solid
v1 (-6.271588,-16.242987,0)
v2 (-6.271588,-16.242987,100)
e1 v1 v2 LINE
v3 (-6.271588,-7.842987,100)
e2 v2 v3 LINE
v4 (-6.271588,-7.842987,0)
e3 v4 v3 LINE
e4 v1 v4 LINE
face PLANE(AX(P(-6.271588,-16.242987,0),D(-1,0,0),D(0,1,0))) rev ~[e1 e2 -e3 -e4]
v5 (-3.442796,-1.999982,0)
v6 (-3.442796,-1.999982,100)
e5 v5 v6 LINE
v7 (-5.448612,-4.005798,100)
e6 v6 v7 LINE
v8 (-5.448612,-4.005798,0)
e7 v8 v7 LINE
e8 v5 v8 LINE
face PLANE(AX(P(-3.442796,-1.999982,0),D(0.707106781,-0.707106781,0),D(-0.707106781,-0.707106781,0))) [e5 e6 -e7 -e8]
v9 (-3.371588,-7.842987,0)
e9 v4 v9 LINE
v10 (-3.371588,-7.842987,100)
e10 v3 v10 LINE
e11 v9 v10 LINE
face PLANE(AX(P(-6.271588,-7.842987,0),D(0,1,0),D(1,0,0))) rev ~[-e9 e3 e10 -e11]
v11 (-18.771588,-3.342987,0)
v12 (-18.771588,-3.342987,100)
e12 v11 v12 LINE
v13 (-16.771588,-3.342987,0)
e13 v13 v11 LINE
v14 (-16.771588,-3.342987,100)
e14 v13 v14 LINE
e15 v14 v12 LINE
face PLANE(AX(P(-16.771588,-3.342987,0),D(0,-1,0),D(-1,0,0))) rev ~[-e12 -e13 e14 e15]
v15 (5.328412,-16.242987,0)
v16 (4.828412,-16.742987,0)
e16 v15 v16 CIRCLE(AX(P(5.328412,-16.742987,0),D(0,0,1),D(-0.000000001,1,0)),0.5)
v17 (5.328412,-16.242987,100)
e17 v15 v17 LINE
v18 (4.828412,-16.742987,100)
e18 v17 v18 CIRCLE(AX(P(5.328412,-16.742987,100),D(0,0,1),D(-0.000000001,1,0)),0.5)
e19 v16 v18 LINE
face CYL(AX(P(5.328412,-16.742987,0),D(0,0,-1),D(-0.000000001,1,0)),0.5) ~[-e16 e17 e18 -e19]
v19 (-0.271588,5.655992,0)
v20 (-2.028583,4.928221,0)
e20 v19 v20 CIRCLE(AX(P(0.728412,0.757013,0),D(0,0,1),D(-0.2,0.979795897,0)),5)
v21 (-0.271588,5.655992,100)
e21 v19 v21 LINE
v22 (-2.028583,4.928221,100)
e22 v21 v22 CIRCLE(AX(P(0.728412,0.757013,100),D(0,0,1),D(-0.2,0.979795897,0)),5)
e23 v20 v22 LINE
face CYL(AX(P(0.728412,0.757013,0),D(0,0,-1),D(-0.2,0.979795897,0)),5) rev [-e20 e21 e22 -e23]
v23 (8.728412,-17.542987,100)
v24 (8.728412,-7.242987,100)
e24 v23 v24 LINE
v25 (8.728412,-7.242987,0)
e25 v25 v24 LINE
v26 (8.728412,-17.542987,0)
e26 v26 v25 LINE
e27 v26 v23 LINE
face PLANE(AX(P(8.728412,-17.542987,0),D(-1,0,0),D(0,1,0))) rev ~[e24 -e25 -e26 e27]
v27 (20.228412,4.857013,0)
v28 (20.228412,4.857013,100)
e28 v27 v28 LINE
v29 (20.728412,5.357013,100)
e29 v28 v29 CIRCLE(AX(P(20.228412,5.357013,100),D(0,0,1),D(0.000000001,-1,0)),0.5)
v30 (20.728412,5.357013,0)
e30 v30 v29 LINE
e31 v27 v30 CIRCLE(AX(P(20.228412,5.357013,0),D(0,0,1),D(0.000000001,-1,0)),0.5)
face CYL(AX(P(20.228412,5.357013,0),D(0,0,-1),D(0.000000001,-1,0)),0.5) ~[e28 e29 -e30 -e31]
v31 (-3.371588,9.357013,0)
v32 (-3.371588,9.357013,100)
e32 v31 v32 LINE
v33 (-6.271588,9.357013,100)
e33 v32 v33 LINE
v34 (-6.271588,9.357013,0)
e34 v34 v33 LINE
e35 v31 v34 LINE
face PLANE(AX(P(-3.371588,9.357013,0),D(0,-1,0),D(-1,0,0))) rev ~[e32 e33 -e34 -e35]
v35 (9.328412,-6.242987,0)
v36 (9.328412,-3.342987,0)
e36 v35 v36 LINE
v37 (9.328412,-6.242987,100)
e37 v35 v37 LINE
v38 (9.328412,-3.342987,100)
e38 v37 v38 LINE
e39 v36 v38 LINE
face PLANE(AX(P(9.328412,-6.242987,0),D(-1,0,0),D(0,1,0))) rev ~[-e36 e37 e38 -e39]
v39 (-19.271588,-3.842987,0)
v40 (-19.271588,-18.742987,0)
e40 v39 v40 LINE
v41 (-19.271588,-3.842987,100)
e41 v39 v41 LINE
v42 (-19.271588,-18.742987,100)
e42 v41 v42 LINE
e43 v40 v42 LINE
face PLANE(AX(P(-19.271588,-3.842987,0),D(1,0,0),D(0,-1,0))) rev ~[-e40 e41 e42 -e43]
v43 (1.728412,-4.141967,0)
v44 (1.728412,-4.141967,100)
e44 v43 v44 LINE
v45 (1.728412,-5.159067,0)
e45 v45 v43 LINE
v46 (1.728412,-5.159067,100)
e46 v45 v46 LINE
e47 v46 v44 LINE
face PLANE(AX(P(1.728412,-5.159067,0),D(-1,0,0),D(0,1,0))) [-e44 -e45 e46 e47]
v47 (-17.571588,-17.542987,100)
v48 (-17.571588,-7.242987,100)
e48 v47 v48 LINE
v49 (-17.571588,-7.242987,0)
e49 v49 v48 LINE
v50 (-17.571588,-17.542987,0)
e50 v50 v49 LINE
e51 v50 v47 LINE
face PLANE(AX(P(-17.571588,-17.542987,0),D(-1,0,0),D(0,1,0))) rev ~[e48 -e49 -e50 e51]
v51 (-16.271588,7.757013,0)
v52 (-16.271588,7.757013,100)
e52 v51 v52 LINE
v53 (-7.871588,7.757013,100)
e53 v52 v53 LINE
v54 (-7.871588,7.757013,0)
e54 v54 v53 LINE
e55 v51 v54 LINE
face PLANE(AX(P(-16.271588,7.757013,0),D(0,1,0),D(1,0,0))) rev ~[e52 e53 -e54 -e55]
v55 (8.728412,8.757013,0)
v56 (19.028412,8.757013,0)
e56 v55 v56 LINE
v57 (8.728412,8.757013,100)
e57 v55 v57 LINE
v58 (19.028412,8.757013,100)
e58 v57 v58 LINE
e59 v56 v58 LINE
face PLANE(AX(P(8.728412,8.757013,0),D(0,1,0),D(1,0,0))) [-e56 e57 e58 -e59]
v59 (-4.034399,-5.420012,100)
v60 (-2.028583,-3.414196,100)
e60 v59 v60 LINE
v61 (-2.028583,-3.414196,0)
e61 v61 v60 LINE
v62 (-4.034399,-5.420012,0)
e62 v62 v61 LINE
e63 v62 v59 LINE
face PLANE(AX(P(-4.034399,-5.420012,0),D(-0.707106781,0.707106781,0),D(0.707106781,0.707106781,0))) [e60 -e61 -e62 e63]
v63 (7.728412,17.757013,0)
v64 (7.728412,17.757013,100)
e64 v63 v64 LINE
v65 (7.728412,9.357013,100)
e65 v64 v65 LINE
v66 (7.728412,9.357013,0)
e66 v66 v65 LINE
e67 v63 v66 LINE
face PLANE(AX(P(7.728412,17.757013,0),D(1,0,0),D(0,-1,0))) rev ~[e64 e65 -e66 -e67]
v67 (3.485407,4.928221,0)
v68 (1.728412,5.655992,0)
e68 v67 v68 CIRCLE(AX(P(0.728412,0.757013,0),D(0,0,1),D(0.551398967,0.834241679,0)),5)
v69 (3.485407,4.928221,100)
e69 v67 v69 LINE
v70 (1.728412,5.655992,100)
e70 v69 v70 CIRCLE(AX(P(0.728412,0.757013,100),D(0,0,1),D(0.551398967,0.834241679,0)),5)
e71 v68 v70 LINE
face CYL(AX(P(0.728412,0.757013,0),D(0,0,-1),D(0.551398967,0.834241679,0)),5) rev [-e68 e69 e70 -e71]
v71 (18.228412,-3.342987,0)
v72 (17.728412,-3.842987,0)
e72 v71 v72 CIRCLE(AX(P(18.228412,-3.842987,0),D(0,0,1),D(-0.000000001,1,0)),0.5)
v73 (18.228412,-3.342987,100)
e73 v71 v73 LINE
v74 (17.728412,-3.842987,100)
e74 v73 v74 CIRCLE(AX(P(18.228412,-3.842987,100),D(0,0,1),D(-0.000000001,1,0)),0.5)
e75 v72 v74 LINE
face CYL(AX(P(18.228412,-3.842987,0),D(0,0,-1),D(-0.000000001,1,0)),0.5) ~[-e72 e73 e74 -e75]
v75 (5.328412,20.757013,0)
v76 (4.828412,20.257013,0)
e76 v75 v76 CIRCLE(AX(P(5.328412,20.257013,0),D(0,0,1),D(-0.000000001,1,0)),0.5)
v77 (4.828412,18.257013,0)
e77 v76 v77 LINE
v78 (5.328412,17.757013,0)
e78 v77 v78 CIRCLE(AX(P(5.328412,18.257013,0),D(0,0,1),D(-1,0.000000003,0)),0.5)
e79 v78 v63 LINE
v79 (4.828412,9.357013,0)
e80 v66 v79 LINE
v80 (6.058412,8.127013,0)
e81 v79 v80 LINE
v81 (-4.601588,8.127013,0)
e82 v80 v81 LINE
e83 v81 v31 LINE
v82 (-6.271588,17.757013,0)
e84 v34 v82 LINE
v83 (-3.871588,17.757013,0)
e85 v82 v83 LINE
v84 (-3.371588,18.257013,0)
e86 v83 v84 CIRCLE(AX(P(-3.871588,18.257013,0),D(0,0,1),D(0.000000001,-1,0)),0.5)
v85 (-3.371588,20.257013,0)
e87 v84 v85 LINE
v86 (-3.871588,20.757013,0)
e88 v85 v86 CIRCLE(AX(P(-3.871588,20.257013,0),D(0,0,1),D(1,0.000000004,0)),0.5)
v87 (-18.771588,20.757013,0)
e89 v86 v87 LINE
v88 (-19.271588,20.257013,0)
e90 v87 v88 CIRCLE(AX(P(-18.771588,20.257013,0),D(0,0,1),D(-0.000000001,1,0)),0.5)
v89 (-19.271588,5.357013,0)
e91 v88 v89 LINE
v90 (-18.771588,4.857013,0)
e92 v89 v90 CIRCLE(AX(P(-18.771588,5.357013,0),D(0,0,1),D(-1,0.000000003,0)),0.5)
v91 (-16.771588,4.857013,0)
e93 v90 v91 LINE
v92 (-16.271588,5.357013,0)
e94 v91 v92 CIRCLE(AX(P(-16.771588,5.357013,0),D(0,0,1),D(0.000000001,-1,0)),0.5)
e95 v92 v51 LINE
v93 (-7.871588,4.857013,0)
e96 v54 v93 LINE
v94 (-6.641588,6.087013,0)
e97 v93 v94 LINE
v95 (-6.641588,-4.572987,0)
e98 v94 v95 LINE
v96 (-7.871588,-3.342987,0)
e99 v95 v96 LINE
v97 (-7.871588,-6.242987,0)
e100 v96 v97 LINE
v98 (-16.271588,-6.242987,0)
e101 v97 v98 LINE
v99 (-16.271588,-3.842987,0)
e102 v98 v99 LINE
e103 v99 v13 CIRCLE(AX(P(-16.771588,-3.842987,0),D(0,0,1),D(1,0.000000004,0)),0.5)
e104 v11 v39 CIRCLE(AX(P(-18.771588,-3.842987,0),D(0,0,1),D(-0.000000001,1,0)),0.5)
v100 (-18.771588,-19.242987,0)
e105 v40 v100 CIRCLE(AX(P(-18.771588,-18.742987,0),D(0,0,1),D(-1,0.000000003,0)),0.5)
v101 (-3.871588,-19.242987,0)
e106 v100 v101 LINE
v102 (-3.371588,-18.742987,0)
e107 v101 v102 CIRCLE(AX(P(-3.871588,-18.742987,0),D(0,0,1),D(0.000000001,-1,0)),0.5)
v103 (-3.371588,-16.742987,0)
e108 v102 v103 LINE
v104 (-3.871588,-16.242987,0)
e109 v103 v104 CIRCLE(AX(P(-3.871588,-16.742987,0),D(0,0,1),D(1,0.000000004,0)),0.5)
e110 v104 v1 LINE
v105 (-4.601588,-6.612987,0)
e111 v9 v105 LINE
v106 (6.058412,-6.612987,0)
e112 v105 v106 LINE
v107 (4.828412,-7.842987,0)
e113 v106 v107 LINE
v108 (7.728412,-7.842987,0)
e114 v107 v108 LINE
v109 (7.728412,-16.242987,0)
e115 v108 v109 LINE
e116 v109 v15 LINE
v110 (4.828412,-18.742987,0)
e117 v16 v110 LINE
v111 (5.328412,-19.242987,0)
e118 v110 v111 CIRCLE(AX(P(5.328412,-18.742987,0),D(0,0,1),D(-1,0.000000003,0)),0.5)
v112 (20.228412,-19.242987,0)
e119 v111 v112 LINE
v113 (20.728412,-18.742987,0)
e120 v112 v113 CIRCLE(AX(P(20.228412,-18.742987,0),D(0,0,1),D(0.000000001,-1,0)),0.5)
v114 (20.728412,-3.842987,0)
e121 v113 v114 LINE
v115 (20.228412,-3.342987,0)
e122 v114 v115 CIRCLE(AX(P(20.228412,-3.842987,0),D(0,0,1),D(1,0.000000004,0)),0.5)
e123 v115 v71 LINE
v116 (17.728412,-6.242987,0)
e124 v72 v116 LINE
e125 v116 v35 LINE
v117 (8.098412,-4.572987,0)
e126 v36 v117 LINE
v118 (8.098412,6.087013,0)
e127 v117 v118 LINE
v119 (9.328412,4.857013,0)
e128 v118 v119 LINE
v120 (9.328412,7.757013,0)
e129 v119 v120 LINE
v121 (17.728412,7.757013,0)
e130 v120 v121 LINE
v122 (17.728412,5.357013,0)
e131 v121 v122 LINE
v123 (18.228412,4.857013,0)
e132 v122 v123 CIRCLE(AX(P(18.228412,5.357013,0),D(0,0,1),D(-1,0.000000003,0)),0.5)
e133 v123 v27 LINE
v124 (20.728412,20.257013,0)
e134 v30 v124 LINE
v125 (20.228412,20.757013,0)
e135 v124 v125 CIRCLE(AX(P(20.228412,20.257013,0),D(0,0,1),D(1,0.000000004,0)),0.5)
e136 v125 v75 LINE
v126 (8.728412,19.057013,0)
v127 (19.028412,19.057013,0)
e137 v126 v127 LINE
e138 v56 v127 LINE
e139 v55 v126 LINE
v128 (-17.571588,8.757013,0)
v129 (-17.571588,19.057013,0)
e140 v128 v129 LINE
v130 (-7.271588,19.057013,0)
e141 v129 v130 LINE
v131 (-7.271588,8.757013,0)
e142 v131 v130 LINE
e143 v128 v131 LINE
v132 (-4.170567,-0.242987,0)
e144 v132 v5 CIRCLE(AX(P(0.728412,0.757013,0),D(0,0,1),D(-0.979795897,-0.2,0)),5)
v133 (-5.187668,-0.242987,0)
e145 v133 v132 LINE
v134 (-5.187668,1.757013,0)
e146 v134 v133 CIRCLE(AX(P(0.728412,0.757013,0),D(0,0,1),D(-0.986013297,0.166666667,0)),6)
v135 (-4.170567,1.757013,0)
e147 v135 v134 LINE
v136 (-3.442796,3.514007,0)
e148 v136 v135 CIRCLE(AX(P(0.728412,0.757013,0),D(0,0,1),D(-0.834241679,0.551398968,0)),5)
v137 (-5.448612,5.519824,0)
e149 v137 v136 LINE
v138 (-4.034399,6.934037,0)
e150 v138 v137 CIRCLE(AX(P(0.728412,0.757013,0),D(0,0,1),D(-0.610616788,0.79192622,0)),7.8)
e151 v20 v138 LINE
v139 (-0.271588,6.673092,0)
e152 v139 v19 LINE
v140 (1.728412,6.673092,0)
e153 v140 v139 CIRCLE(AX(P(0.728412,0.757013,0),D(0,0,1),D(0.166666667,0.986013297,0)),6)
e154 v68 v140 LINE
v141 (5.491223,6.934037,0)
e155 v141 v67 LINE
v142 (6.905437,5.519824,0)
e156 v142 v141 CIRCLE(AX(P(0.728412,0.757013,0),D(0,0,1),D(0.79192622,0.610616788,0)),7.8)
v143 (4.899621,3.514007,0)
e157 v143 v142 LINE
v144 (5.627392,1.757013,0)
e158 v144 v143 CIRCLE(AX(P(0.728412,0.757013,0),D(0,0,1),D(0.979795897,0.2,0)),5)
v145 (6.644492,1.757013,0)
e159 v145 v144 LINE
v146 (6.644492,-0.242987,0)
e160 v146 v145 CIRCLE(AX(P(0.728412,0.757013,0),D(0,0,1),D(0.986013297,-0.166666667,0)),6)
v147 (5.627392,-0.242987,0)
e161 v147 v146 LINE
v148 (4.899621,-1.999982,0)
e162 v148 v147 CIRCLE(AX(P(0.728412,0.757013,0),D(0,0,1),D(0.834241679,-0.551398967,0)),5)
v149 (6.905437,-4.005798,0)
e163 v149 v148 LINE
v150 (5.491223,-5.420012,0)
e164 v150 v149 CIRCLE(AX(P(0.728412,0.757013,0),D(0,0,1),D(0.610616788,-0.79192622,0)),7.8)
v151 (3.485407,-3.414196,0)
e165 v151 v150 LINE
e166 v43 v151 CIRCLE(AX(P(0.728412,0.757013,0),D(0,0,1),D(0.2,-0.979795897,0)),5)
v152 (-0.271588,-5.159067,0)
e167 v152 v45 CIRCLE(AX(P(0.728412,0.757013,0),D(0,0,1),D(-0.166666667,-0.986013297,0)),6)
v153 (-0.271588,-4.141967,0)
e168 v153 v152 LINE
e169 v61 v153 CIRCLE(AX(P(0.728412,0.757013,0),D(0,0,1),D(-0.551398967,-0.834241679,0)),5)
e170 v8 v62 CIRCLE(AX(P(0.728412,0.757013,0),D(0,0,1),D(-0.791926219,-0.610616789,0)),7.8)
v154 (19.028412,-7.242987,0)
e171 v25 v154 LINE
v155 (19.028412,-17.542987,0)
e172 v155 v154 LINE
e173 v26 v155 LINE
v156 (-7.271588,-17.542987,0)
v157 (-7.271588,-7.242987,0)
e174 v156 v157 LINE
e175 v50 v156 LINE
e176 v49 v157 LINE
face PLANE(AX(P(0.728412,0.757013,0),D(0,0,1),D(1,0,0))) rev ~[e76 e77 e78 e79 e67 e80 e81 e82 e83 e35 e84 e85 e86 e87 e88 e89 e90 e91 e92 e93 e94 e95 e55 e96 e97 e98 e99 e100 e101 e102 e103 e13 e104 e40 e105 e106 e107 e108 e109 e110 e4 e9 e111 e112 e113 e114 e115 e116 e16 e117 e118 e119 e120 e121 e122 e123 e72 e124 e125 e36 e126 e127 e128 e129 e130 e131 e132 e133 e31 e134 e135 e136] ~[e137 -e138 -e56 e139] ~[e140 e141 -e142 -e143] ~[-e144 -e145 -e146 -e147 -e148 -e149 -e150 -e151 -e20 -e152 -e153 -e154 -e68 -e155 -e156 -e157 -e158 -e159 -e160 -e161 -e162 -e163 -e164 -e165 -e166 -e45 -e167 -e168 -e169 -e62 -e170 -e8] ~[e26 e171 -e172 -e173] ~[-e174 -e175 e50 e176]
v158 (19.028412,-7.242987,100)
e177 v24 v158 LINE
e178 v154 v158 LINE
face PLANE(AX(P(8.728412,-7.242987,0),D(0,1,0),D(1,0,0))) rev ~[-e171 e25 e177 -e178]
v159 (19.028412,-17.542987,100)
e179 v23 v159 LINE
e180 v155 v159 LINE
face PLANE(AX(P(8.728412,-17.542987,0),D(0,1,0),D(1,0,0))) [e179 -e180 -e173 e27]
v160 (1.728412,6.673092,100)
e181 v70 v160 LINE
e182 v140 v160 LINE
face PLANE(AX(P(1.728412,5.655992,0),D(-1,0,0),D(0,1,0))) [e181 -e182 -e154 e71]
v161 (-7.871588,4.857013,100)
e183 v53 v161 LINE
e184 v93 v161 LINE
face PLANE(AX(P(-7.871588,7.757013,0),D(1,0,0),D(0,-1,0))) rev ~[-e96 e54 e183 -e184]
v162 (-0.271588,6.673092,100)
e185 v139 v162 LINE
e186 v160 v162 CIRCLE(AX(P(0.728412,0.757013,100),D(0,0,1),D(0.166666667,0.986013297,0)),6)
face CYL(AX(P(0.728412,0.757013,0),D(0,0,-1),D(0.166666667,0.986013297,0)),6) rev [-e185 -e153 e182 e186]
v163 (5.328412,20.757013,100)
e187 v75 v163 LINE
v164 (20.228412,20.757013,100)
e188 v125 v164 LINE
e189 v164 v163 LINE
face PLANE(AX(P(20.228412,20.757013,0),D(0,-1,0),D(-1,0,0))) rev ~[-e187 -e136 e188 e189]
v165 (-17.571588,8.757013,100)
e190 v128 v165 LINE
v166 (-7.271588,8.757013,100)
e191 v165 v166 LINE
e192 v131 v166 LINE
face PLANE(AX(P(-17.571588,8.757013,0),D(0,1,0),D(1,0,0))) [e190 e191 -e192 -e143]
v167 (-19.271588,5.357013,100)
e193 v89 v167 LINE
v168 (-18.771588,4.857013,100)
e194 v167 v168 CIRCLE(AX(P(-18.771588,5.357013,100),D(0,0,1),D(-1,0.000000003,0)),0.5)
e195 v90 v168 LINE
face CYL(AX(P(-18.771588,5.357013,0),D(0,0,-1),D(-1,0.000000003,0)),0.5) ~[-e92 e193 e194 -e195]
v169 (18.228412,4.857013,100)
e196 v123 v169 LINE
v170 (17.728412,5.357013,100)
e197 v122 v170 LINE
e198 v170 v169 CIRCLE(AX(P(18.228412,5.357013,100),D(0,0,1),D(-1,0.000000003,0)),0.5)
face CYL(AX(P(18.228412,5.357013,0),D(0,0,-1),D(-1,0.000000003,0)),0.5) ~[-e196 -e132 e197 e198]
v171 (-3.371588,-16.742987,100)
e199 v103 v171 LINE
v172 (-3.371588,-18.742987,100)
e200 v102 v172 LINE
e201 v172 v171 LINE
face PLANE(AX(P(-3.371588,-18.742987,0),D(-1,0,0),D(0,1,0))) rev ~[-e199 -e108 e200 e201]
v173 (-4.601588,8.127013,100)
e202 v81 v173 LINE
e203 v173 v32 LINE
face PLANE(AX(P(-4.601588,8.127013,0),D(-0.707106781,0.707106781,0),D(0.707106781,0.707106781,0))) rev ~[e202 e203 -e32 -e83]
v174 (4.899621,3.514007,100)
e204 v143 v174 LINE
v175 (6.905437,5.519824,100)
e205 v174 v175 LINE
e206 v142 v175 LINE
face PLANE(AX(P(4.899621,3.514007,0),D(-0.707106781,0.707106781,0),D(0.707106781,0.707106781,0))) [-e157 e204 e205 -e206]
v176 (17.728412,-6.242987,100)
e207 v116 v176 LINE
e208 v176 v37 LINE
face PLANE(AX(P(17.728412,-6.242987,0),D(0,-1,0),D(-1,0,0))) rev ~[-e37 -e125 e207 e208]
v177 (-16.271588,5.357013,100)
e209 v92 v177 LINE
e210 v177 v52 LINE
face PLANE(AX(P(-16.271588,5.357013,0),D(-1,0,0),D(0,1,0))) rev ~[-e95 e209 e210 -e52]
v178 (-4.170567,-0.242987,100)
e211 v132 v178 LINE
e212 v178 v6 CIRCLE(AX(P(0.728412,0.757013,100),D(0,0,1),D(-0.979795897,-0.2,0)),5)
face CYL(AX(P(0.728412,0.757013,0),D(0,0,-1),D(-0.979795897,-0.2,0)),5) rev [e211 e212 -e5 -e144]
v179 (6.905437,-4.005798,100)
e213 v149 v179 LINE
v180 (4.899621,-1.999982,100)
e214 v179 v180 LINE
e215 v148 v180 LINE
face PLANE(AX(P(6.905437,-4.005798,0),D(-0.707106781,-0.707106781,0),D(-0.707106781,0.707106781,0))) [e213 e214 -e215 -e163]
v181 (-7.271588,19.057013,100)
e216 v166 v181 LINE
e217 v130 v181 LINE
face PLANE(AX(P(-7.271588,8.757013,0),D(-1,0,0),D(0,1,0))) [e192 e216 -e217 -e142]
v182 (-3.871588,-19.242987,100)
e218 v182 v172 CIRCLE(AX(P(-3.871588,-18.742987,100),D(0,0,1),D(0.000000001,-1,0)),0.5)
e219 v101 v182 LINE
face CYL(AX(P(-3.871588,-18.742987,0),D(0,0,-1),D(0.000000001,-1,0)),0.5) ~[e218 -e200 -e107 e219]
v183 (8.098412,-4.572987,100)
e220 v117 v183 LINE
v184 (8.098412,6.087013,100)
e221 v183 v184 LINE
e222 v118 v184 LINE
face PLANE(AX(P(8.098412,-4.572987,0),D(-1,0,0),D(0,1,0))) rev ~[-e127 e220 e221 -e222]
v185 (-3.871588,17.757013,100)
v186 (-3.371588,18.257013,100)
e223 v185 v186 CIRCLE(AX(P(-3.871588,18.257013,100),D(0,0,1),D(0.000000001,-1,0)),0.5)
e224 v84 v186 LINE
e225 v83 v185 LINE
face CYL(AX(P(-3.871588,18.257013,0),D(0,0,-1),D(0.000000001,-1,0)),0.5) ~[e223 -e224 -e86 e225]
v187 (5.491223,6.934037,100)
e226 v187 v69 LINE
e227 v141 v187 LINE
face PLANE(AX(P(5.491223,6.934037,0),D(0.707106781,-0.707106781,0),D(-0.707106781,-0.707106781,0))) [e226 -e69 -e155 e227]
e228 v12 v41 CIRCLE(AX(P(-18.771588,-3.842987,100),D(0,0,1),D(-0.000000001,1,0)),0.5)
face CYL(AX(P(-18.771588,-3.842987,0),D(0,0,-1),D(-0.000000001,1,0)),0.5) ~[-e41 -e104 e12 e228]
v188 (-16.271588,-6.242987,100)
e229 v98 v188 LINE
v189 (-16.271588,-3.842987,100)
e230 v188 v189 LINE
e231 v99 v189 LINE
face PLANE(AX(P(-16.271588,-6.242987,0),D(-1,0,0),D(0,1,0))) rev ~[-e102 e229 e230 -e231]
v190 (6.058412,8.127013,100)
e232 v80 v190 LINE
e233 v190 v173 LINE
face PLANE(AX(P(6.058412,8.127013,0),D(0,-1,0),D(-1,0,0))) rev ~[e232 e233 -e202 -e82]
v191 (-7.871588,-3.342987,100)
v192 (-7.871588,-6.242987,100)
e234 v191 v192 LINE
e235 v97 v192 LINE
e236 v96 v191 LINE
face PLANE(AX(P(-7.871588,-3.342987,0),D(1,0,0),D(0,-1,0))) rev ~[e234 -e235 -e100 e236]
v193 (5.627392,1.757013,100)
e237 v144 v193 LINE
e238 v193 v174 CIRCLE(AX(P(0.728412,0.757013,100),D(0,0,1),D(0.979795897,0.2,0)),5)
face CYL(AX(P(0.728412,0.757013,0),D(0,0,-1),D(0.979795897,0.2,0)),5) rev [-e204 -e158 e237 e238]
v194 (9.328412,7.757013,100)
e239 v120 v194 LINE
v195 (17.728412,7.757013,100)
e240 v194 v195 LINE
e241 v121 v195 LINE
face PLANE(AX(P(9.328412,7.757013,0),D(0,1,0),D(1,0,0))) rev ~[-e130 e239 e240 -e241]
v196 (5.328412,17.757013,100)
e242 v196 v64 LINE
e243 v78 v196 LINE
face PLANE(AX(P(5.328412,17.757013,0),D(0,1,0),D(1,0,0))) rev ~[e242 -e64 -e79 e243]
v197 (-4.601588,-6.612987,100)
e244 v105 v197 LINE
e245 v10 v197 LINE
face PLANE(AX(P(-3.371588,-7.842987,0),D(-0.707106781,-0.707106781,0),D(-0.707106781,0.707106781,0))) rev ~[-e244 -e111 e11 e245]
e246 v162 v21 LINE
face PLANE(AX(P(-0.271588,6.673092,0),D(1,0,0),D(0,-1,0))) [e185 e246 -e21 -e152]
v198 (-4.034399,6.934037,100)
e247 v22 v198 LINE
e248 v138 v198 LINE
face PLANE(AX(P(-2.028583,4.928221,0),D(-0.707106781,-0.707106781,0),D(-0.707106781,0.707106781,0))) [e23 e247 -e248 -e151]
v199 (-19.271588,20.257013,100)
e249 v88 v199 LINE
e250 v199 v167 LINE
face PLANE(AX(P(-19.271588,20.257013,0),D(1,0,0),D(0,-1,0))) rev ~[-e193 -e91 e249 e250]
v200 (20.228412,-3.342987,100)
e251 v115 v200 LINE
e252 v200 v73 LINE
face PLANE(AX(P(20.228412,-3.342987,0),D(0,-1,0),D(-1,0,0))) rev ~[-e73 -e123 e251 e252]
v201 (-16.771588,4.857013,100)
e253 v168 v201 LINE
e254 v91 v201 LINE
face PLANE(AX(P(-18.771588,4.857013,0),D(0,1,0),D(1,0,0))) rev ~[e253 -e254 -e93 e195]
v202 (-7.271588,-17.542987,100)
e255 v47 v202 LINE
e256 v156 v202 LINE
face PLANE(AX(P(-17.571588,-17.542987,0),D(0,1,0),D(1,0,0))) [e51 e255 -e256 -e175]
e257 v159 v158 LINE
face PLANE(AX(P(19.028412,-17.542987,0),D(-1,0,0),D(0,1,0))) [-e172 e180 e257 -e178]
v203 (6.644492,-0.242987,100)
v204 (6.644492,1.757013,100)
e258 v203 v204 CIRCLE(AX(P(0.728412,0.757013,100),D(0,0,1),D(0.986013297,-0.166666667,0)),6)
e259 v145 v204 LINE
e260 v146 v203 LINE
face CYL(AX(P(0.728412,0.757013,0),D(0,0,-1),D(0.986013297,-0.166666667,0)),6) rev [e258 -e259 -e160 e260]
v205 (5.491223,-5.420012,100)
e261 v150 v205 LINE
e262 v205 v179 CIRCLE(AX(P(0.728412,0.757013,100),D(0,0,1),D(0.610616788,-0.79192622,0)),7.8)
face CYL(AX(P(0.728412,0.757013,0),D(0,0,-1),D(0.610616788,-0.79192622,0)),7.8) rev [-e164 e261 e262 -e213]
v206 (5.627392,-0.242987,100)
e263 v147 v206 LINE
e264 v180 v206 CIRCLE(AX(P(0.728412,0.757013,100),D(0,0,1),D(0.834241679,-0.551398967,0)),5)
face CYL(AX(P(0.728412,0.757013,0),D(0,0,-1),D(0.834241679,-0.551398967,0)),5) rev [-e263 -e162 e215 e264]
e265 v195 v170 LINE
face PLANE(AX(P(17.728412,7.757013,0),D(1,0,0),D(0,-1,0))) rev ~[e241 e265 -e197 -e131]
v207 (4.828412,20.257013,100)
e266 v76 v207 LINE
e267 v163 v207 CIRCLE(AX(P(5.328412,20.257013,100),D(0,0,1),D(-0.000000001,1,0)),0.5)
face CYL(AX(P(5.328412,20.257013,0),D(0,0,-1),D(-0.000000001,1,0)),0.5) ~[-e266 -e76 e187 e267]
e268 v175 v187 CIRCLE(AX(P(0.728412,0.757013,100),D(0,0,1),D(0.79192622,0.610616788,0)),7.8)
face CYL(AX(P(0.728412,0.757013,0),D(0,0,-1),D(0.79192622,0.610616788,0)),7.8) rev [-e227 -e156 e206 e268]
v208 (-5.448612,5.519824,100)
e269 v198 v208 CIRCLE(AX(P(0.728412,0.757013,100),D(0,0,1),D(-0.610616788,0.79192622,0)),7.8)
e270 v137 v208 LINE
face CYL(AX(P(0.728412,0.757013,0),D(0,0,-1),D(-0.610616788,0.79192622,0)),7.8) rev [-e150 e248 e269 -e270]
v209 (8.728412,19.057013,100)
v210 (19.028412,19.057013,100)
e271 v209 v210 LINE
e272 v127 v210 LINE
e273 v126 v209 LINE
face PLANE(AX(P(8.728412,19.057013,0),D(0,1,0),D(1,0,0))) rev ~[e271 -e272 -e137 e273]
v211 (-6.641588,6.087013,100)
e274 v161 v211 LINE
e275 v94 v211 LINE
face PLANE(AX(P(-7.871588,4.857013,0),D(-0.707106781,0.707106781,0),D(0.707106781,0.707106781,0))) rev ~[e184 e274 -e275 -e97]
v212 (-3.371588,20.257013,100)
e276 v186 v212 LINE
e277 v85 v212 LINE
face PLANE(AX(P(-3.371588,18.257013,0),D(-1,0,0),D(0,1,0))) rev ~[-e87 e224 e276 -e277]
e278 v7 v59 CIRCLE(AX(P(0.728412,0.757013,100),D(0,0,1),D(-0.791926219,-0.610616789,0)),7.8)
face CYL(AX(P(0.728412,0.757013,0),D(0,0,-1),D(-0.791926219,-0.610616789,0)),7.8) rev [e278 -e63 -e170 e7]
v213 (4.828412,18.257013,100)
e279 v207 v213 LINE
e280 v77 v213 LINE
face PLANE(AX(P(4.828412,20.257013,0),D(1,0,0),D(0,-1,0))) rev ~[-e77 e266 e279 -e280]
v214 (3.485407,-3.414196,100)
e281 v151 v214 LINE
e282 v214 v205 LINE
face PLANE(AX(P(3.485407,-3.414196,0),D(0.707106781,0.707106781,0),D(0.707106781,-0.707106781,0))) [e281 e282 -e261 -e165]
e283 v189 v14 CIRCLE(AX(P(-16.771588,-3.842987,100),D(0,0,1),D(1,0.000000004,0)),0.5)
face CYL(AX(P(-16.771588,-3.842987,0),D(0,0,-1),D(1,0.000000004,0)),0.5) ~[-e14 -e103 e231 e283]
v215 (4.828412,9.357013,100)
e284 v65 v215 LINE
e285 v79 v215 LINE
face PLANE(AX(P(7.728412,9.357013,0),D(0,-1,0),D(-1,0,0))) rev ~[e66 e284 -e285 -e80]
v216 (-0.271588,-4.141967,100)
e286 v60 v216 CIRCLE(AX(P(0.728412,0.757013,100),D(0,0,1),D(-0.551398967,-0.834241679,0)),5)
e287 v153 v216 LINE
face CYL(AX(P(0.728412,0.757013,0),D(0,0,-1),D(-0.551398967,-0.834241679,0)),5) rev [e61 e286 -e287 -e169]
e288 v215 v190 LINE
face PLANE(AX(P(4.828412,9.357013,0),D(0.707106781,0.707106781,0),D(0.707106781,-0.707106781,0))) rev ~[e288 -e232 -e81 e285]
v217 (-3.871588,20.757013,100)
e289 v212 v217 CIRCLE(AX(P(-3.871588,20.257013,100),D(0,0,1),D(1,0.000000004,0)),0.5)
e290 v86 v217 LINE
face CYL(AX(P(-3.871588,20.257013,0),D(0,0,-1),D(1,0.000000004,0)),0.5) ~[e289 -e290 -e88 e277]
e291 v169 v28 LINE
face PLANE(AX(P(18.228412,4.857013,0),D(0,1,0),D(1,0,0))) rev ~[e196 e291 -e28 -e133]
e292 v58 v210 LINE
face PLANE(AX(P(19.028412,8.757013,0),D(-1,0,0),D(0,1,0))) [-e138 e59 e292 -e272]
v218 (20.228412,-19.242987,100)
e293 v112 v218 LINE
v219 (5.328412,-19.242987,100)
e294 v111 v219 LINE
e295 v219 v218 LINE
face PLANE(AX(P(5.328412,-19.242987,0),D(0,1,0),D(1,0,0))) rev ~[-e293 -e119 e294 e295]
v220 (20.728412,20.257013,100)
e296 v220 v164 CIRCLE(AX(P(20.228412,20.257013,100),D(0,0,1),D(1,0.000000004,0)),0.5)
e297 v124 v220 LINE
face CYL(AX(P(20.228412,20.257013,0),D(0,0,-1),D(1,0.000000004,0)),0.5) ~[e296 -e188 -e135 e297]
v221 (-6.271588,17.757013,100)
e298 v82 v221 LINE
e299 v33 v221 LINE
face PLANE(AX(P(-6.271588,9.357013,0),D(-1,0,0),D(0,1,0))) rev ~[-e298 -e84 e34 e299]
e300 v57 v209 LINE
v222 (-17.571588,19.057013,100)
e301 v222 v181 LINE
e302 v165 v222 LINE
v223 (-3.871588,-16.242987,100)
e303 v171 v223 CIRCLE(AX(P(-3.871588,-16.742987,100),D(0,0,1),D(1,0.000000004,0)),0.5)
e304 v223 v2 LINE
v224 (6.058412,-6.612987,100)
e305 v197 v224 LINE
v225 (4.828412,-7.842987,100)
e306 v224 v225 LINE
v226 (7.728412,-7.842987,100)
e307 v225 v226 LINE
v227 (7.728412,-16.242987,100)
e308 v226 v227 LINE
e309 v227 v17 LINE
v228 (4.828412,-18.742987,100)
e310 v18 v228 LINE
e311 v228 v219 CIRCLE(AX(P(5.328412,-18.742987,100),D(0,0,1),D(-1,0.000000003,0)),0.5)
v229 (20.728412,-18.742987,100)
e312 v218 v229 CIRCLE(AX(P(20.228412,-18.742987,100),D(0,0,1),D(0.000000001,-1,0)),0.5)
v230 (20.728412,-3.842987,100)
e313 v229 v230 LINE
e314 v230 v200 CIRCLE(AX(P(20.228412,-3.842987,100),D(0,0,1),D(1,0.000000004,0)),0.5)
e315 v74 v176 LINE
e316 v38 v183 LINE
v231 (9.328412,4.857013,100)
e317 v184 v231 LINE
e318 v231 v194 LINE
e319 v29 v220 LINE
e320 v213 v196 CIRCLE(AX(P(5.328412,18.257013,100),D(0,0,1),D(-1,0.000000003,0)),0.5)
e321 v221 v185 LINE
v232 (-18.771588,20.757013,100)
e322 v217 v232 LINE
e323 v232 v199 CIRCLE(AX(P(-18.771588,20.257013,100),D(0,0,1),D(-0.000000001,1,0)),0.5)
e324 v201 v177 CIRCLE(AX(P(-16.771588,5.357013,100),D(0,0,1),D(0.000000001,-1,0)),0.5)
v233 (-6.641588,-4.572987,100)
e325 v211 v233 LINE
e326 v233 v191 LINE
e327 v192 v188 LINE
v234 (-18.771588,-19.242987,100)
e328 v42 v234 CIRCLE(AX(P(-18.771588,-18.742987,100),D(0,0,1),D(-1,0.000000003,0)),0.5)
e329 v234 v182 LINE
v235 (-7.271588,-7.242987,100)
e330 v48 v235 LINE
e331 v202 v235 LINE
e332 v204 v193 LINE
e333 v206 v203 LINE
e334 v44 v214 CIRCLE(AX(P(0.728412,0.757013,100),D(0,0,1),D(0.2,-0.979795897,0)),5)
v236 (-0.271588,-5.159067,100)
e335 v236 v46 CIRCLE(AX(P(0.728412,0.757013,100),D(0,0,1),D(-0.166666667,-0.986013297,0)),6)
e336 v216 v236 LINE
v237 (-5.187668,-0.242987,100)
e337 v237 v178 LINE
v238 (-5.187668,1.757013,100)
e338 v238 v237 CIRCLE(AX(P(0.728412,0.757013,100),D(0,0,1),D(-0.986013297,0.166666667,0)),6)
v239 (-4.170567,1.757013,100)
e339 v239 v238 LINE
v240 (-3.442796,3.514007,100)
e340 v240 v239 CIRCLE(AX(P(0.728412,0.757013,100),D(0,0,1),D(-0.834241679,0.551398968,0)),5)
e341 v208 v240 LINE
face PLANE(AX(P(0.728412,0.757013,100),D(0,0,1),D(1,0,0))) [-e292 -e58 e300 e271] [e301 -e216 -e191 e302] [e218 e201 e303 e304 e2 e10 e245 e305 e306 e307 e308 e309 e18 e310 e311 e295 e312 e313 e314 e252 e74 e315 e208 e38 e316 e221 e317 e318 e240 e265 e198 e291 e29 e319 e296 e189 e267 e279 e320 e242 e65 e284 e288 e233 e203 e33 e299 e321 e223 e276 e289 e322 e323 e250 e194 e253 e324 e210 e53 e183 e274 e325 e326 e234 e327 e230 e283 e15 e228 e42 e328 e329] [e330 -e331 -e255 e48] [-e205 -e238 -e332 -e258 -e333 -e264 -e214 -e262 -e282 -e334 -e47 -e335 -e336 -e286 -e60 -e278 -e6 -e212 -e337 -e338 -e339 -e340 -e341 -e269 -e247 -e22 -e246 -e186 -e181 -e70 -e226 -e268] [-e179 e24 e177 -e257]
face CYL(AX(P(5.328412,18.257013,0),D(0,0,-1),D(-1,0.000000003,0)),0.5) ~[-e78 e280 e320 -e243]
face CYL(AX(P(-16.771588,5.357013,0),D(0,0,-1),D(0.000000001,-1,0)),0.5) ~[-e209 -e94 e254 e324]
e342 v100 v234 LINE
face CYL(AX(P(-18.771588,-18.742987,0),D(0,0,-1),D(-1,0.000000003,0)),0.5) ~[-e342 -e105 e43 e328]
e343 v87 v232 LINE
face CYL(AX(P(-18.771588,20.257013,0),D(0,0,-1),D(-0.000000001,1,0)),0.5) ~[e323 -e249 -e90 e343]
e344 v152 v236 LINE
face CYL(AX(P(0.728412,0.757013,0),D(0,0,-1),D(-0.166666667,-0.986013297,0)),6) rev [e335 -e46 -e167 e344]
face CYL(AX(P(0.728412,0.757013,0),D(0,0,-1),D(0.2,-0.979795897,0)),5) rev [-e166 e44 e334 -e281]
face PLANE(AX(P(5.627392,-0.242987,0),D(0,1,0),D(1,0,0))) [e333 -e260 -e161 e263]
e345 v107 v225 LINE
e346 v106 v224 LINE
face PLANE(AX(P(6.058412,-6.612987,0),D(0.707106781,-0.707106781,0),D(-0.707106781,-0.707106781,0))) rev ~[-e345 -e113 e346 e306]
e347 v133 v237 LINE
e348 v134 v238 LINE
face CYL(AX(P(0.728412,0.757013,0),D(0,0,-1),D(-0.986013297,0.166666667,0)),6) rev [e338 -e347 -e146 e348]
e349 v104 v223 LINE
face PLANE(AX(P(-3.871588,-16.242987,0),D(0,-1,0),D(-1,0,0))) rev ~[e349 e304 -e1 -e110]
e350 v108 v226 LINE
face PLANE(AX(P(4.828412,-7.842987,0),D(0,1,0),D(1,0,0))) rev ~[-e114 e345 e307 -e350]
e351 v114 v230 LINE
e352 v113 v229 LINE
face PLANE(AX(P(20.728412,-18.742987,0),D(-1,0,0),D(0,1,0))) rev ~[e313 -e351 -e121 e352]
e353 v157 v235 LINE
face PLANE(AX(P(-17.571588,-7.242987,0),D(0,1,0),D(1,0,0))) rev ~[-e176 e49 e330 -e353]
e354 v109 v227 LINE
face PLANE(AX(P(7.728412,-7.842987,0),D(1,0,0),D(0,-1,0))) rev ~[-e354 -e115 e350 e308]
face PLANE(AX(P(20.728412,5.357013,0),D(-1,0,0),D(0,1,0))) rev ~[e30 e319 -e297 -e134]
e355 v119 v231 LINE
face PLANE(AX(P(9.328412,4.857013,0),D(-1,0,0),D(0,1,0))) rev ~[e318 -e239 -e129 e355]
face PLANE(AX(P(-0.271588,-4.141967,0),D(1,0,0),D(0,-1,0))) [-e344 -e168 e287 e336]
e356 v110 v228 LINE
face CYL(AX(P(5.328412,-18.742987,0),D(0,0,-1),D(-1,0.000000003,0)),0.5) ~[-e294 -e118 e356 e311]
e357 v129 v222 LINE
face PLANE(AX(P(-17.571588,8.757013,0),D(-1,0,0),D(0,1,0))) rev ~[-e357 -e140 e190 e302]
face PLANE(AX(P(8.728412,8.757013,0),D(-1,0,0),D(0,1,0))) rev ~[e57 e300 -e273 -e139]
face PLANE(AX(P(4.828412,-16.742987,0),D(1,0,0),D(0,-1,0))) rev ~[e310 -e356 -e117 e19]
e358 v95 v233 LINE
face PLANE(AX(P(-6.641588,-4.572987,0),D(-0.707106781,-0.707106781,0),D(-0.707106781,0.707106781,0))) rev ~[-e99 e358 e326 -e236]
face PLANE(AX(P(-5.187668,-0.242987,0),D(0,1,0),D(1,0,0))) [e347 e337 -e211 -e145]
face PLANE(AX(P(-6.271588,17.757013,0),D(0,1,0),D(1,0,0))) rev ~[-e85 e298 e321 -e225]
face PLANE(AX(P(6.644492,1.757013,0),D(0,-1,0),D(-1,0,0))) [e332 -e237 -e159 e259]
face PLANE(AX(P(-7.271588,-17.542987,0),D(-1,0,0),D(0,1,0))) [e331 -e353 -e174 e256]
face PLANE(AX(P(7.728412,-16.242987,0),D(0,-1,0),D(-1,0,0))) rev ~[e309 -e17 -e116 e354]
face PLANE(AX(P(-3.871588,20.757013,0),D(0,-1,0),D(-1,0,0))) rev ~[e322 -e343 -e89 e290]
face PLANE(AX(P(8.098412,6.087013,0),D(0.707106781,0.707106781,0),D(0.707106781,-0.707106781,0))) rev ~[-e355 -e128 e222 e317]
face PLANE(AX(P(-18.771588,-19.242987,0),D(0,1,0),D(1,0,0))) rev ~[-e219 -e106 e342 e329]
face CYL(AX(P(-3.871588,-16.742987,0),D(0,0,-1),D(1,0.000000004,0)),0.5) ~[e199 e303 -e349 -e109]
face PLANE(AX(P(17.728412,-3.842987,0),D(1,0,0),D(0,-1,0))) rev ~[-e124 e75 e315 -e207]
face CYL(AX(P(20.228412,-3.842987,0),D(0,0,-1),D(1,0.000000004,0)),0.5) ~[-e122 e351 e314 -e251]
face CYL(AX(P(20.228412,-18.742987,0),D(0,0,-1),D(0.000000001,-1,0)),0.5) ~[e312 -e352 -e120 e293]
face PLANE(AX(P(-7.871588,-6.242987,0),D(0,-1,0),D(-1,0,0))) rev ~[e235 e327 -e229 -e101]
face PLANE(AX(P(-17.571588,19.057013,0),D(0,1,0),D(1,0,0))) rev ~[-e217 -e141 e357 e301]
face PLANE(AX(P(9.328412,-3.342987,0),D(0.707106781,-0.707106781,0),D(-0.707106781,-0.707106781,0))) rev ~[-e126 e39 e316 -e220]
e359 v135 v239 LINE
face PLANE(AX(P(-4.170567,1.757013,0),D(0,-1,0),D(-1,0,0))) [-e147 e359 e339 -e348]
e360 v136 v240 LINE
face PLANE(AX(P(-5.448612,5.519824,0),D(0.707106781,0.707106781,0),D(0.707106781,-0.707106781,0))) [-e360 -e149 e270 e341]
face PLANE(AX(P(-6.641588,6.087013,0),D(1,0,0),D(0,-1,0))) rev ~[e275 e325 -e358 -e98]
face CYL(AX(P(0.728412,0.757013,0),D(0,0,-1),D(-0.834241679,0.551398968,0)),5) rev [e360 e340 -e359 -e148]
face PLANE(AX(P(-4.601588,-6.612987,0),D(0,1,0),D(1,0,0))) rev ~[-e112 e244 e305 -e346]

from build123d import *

# Parameters (mm, degrees)
SKETCH_1_W      = 10.3
SKETCH_1_H      = 10.3
EXTRUDE_1_DEPTH = 100


with BuildPart() as part:
    # 草图1 → 凸台-拉伸1 (new body)
    with BuildSketch(Plane.XY):
        with BuildLine():
            Line((-3.371587854, 9.357012623), (-6.271587854, 9.357012623))
            Line((-6.271587854, 9.357012623), (-6.271587854, 17.757012623))
            Line((-6.271587854, 17.757012623), (-3.871587854, 17.757012623))
            ThreePointArc((-3.871587854, 17.757012623), (-3.518034464, 17.903459232), (-3.371587854, 18.257012623))
            Line((-3.371587854, 18.257012623), (-3.371587854, 20.257012623))
            ThreePointArc((-3.371587854, 20.257012623), (-3.518034464, 20.610566013), (-3.871587854, 20.757012623))
            Line((-3.871587854, 20.757012623), (-18.771587854, 20.757012623))
            ThreePointArc((-18.771587854, 20.757012623), (-19.125141245, 20.610566013), (-19.271587854, 20.257012623))
            Line((-19.271587854, 20.257012623), (-19.271587854, 5.357012623))
            ThreePointArc((-19.271587854, 5.357012623), (-19.125141245, 5.003459232), (-18.771587854, 4.857012623))
            Line((-18.771587854, 4.857012623), (-16.771587854, 4.857012623))
            ThreePointArc((-16.771587854, 4.857012623), (-16.418034464, 5.003459232), (-16.271587854, 5.357012623))
            Line((-16.271587854, 5.357012623), (-16.271587854, 7.757012623))
            Line((-16.271587854, 7.757012623), (-7.871587854, 7.757012623))
            Line((-7.871587854, 7.757012623), (-7.871587854, 4.857012623))
            Line((-7.871587854, 4.857012623), (-6.641587854, 6.087012623))
            Line((-6.641587854, 6.087012623), (-6.641587854, -4.572987377))
            Line((-6.641587854, -4.572987377), (-7.871587854, -3.342987377))
            Line((-7.871587854, -3.342987377), (-7.871587854, -6.242987377))
            Line((-7.871587854, -6.242987377), (-16.271587854, -6.242987377))
            Line((-16.271587854, -6.242987377), (-16.271587854, -3.842987377))
            ThreePointArc((-16.271587854, -3.842987377), (-16.418034464, -3.489433987), (-16.771587854, -3.342987377))
            Line((-16.771587854, -3.342987377), (-18.771587854, -3.342987377))
            ThreePointArc((-18.771587854, -3.342987377), (-19.125141245, -3.489433987), (-19.271587854, -3.842987377))
            Line((-19.271587854, -3.842987377), (-19.271587854, -18.742987377))
            ThreePointArc((-19.271587854, -18.742987377), (-19.125141245, -19.096540768), (-18.771587854, -19.242987377))
            Line((-18.771587854, -19.242987377), (-3.871587854, -19.242987377))
            ThreePointArc((-3.871587854, -19.242987377), (-3.518034464, -19.096540768), (-3.371587854, -18.742987377))
            Line((-3.371587854, -18.742987377), (-3.371587854, -16.742987377))
            ThreePointArc((-3.371587854, -16.742987377), (-3.518034464, -16.389433987), (-3.871587854, -16.242987377))
            Line((-3.871587854, -16.242987377), (-6.271587854, -16.242987377))
            Line((-6.271587854, -16.242987377), (-6.271587854, -7.842987377))
            Line((-6.271587854, -7.842987377), (-3.371587854, -7.842987377))
            Line((-3.371587854, -7.842987377), (-4.601587854, -6.612987377))
            Line((-4.601587854, -6.612987377), (6.058412146, -6.612987377))
            Line((6.058412146, -6.612987377), (4.828412146, -7.842987377))
            Line((4.828412146, -7.842987377), (7.728412146, -7.842987377))
            Line((7.728412146, -7.842987377), (7.728412146, -16.242987377))
            Line((7.728412146, -16.242987377), (5.328412146, -16.242987377))
            ThreePointArc((5.328412146, -16.242987377), (4.974858755, -16.389433987), (4.828412146, -16.742987377))
            Line((4.828412146, -16.742987377), (4.828412146, -18.742987377))
            ThreePointArc((4.828412146, -18.742987377), (4.974858755, -19.096540768), (5.328412146, -19.242987377))
            Line((5.328412146, -19.242987377), (20.228412146, -19.242987377))
            ThreePointArc((20.228412146, -19.242987377), (20.581965536, -19.096540768), (20.728412146, -18.742987377))
            Line((20.728412146, -18.742987377), (20.728412146, -3.842987377))
            ThreePointArc((20.728412146, -3.842987377), (20.581965536, -3.489433987), (20.228412146, -3.342987377))
            Line((20.228412146, -3.342987377), (18.228412146, -3.342987377))
            ThreePointArc((18.228412146, -3.342987377), (17.874858755, -3.489433987), (17.728412146, -3.842987377))
            Line((17.728412146, -3.842987377), (17.728412146, -6.242987377))
            Line((17.728412146, -6.242987377), (9.328412146, -6.242987377))
            Line((9.328412146, -6.242987377), (9.328412146, -3.342987377))
            Line((9.328412146, -3.342987377), (8.098412146, -4.572987377))
            Line((8.098412146, -4.572987377), (8.098412146, 6.087012623))
            Line((8.098412146, 6.087012623), (9.328412146, 4.857012623))
            Line((9.328412146, 4.857012623), (9.328412146, 7.757012623))
            Line((9.328412146, 7.757012623), (17.728412146, 7.757012623))
            Line((17.728412146, 7.757012623), (17.728412146, 5.357012623))
            ThreePointArc((17.728412146, 5.357012623), (17.874858755, 5.003459232), (18.228412146, 4.857012623))
            Line((18.228412146, 4.857012623), (20.228412146, 4.857012623))
            ThreePointArc((20.228412146, 4.857012623), (20.581965536, 5.003459232), (20.728412146, 5.357012623))
            Line((20.728412146, 5.357012623), (20.728412146, 20.257012623))
            ThreePointArc((20.728412146, 20.257012623), (20.581965536, 20.610566013), (20.228412146, 20.757012623))
            Line((20.228412146, 20.757012623), (5.328412146, 20.757012623))
            ThreePointArc((5.328412146, 20.757012623), (4.974858755, 20.610566013), (4.828412146, 20.257012623))
            Line((4.828412146, 20.257012623), (4.828412146, 18.257012623))
            ThreePointArc((4.828412146, 18.257012623), (4.974858755, 17.903459232), (5.328412146, 17.757012623))
            Line((5.328412146, 17.757012623), (7.728412146, 17.757012623))
            Line((7.728412146, 17.757012623), (7.728412146, 9.357012623))
            Line((7.728412146, 9.357012623), (4.828412146, 9.357012623))
            Line((4.828412146, 9.357012623), (6.058412146, 8.127012623))
            Line((6.058412146, 8.127012623), (-4.601587854, 8.127012623))
            Line((-4.601587854, 8.127012623), (-3.371587854, 9.357012623))
        make_face()
        with Locations((-12.421587854, 13.907012623)):
            Rectangle(SKETCH_1_W, SKETCH_1_H, mode=Mode.SUBTRACT)
        with Locations((13.878412146, 13.907012623)):
            Rectangle(SKETCH_1_W, SKETCH_1_H, mode=Mode.SUBTRACT)
        with Locations((-12.421587854, -12.392987377)):
            Rectangle(SKETCH_1_W, SKETCH_1_H, mode=Mode.SUBTRACT)
        with Locations((13.878412146, -12.392987377)):
            Rectangle(SKETCH_1_W, SKETCH_1_H, mode=Mode.SUBTRACT)
        with BuildLine():
            Line((-5.448612368, 5.519823574), (-3.44279625, 3.514007457))
            ThreePointArc((-3.44279625, 3.514007457), (-3.890985517, 2.670429785), (-4.17056734, 1.757012623))
            Line((-4.17056734, 1.757012623), (-5.187667637, 1.757012623))
            ThreePointArc((-5.187667637, 1.757012623), (-5.271587854, 0.757012623), (-5.187667637, -0.242987377))
            Line((-5.187667637, -0.242987377), (-4.17056734, -0.242987377))
            ThreePointArc((-4.17056734, -0.242987377), (-3.890985517, -1.156404539), (-3.44279625, -1.999982211))
            Line((-3.44279625, -1.999982211), (-5.448612368, -4.005798329))
            ThreePointArc((-5.448612368, -4.005798329), (-4.787020747, -4.758420271), (-4.034398805, -5.420011891))
            Line((-4.034398805, -5.420011891), (-2.028582688, -3.414195774))
            ThreePointArc((-2.028582688, -3.414195774), (-1.185005016, -3.86238504), (-0.271587854, -4.141966863))
            Line((-0.271587854, -4.141966863), (-0.271587854, -5.15906716))
            ThreePointArc((-0.271587854, -5.15906716), (0.728412146, -5.242987377), (1.728412146, -5.15906716))
            Line((1.728412146, -5.15906716), (1.728412146, -4.141966863))
            ThreePointArc((1.728412146, -4.141966863), (2.641829308, -3.86238504), (3.48540698, -3.414195774))
            Line((3.48540698, -3.414195774), (5.491223097, -5.420011891))
            ThreePointArc((5.491223097, -5.420011891), (6.243845039, -4.758420271), (6.905436659, -4.005798329))
            Line((6.905436659, -4.005798329), (4.899620542, -1.999982211))
            ThreePointArc((4.899620542, -1.999982211), (5.347809808, -1.156404539), (5.627391631, -0.242987377))
            Line((5.627391631, -0.242987377), (6.644491929, -0.242987377))
            ThreePointArc((6.644491929, -0.242987377), (6.728412146, 0.757012623), (6.644491929, 1.757012623))
            Line((6.644491929, 1.757012623), (5.627391631, 1.757012623))
            ThreePointArc((5.627391631, 1.757012623), (5.347809808, 2.670429785), (4.899620542, 3.514007457))
            Line((4.899620542, 3.514007457), (6.905436659, 5.519823574))
            ThreePointArc((6.905436659, 5.519823574), (6.243845039, 6.272445516), (5.491223097, 6.934037136))
            Line((5.491223097, 6.934037136), (3.48540698, 4.928221019))
            ThreePointArc((3.48540698, 4.928221019), (2.641829308, 5.376410285), (1.728412146, 5.655992108))
            Line((1.728412146, 5.655992108), (1.728412146, 6.673092406))
            ThreePointArc((1.728412146, 6.673092406), (0.728412146, 6.757012623), (-0.271587854, 6.673092406))
            Line((-0.271587854, 6.673092406), (-0.271587854, 5.655992108))
            ThreePointArc((-0.271587854, 5.655992108), (-1.185005016, 5.376410285), (-2.028582688, 4.928221019))
            Line((-2.028582688, 4.928221019), (-4.034398805, 6.934037136))
            ThreePointArc((-4.034398805, 6.934037136), (-4.787020747, 6.272445516), (-5.448612368, 5.519823574))
        make_face(mode=Mode.SUBTRACT)
    extrude(amount=EXTRUDE_1_DEPTH)


solid = part.part
